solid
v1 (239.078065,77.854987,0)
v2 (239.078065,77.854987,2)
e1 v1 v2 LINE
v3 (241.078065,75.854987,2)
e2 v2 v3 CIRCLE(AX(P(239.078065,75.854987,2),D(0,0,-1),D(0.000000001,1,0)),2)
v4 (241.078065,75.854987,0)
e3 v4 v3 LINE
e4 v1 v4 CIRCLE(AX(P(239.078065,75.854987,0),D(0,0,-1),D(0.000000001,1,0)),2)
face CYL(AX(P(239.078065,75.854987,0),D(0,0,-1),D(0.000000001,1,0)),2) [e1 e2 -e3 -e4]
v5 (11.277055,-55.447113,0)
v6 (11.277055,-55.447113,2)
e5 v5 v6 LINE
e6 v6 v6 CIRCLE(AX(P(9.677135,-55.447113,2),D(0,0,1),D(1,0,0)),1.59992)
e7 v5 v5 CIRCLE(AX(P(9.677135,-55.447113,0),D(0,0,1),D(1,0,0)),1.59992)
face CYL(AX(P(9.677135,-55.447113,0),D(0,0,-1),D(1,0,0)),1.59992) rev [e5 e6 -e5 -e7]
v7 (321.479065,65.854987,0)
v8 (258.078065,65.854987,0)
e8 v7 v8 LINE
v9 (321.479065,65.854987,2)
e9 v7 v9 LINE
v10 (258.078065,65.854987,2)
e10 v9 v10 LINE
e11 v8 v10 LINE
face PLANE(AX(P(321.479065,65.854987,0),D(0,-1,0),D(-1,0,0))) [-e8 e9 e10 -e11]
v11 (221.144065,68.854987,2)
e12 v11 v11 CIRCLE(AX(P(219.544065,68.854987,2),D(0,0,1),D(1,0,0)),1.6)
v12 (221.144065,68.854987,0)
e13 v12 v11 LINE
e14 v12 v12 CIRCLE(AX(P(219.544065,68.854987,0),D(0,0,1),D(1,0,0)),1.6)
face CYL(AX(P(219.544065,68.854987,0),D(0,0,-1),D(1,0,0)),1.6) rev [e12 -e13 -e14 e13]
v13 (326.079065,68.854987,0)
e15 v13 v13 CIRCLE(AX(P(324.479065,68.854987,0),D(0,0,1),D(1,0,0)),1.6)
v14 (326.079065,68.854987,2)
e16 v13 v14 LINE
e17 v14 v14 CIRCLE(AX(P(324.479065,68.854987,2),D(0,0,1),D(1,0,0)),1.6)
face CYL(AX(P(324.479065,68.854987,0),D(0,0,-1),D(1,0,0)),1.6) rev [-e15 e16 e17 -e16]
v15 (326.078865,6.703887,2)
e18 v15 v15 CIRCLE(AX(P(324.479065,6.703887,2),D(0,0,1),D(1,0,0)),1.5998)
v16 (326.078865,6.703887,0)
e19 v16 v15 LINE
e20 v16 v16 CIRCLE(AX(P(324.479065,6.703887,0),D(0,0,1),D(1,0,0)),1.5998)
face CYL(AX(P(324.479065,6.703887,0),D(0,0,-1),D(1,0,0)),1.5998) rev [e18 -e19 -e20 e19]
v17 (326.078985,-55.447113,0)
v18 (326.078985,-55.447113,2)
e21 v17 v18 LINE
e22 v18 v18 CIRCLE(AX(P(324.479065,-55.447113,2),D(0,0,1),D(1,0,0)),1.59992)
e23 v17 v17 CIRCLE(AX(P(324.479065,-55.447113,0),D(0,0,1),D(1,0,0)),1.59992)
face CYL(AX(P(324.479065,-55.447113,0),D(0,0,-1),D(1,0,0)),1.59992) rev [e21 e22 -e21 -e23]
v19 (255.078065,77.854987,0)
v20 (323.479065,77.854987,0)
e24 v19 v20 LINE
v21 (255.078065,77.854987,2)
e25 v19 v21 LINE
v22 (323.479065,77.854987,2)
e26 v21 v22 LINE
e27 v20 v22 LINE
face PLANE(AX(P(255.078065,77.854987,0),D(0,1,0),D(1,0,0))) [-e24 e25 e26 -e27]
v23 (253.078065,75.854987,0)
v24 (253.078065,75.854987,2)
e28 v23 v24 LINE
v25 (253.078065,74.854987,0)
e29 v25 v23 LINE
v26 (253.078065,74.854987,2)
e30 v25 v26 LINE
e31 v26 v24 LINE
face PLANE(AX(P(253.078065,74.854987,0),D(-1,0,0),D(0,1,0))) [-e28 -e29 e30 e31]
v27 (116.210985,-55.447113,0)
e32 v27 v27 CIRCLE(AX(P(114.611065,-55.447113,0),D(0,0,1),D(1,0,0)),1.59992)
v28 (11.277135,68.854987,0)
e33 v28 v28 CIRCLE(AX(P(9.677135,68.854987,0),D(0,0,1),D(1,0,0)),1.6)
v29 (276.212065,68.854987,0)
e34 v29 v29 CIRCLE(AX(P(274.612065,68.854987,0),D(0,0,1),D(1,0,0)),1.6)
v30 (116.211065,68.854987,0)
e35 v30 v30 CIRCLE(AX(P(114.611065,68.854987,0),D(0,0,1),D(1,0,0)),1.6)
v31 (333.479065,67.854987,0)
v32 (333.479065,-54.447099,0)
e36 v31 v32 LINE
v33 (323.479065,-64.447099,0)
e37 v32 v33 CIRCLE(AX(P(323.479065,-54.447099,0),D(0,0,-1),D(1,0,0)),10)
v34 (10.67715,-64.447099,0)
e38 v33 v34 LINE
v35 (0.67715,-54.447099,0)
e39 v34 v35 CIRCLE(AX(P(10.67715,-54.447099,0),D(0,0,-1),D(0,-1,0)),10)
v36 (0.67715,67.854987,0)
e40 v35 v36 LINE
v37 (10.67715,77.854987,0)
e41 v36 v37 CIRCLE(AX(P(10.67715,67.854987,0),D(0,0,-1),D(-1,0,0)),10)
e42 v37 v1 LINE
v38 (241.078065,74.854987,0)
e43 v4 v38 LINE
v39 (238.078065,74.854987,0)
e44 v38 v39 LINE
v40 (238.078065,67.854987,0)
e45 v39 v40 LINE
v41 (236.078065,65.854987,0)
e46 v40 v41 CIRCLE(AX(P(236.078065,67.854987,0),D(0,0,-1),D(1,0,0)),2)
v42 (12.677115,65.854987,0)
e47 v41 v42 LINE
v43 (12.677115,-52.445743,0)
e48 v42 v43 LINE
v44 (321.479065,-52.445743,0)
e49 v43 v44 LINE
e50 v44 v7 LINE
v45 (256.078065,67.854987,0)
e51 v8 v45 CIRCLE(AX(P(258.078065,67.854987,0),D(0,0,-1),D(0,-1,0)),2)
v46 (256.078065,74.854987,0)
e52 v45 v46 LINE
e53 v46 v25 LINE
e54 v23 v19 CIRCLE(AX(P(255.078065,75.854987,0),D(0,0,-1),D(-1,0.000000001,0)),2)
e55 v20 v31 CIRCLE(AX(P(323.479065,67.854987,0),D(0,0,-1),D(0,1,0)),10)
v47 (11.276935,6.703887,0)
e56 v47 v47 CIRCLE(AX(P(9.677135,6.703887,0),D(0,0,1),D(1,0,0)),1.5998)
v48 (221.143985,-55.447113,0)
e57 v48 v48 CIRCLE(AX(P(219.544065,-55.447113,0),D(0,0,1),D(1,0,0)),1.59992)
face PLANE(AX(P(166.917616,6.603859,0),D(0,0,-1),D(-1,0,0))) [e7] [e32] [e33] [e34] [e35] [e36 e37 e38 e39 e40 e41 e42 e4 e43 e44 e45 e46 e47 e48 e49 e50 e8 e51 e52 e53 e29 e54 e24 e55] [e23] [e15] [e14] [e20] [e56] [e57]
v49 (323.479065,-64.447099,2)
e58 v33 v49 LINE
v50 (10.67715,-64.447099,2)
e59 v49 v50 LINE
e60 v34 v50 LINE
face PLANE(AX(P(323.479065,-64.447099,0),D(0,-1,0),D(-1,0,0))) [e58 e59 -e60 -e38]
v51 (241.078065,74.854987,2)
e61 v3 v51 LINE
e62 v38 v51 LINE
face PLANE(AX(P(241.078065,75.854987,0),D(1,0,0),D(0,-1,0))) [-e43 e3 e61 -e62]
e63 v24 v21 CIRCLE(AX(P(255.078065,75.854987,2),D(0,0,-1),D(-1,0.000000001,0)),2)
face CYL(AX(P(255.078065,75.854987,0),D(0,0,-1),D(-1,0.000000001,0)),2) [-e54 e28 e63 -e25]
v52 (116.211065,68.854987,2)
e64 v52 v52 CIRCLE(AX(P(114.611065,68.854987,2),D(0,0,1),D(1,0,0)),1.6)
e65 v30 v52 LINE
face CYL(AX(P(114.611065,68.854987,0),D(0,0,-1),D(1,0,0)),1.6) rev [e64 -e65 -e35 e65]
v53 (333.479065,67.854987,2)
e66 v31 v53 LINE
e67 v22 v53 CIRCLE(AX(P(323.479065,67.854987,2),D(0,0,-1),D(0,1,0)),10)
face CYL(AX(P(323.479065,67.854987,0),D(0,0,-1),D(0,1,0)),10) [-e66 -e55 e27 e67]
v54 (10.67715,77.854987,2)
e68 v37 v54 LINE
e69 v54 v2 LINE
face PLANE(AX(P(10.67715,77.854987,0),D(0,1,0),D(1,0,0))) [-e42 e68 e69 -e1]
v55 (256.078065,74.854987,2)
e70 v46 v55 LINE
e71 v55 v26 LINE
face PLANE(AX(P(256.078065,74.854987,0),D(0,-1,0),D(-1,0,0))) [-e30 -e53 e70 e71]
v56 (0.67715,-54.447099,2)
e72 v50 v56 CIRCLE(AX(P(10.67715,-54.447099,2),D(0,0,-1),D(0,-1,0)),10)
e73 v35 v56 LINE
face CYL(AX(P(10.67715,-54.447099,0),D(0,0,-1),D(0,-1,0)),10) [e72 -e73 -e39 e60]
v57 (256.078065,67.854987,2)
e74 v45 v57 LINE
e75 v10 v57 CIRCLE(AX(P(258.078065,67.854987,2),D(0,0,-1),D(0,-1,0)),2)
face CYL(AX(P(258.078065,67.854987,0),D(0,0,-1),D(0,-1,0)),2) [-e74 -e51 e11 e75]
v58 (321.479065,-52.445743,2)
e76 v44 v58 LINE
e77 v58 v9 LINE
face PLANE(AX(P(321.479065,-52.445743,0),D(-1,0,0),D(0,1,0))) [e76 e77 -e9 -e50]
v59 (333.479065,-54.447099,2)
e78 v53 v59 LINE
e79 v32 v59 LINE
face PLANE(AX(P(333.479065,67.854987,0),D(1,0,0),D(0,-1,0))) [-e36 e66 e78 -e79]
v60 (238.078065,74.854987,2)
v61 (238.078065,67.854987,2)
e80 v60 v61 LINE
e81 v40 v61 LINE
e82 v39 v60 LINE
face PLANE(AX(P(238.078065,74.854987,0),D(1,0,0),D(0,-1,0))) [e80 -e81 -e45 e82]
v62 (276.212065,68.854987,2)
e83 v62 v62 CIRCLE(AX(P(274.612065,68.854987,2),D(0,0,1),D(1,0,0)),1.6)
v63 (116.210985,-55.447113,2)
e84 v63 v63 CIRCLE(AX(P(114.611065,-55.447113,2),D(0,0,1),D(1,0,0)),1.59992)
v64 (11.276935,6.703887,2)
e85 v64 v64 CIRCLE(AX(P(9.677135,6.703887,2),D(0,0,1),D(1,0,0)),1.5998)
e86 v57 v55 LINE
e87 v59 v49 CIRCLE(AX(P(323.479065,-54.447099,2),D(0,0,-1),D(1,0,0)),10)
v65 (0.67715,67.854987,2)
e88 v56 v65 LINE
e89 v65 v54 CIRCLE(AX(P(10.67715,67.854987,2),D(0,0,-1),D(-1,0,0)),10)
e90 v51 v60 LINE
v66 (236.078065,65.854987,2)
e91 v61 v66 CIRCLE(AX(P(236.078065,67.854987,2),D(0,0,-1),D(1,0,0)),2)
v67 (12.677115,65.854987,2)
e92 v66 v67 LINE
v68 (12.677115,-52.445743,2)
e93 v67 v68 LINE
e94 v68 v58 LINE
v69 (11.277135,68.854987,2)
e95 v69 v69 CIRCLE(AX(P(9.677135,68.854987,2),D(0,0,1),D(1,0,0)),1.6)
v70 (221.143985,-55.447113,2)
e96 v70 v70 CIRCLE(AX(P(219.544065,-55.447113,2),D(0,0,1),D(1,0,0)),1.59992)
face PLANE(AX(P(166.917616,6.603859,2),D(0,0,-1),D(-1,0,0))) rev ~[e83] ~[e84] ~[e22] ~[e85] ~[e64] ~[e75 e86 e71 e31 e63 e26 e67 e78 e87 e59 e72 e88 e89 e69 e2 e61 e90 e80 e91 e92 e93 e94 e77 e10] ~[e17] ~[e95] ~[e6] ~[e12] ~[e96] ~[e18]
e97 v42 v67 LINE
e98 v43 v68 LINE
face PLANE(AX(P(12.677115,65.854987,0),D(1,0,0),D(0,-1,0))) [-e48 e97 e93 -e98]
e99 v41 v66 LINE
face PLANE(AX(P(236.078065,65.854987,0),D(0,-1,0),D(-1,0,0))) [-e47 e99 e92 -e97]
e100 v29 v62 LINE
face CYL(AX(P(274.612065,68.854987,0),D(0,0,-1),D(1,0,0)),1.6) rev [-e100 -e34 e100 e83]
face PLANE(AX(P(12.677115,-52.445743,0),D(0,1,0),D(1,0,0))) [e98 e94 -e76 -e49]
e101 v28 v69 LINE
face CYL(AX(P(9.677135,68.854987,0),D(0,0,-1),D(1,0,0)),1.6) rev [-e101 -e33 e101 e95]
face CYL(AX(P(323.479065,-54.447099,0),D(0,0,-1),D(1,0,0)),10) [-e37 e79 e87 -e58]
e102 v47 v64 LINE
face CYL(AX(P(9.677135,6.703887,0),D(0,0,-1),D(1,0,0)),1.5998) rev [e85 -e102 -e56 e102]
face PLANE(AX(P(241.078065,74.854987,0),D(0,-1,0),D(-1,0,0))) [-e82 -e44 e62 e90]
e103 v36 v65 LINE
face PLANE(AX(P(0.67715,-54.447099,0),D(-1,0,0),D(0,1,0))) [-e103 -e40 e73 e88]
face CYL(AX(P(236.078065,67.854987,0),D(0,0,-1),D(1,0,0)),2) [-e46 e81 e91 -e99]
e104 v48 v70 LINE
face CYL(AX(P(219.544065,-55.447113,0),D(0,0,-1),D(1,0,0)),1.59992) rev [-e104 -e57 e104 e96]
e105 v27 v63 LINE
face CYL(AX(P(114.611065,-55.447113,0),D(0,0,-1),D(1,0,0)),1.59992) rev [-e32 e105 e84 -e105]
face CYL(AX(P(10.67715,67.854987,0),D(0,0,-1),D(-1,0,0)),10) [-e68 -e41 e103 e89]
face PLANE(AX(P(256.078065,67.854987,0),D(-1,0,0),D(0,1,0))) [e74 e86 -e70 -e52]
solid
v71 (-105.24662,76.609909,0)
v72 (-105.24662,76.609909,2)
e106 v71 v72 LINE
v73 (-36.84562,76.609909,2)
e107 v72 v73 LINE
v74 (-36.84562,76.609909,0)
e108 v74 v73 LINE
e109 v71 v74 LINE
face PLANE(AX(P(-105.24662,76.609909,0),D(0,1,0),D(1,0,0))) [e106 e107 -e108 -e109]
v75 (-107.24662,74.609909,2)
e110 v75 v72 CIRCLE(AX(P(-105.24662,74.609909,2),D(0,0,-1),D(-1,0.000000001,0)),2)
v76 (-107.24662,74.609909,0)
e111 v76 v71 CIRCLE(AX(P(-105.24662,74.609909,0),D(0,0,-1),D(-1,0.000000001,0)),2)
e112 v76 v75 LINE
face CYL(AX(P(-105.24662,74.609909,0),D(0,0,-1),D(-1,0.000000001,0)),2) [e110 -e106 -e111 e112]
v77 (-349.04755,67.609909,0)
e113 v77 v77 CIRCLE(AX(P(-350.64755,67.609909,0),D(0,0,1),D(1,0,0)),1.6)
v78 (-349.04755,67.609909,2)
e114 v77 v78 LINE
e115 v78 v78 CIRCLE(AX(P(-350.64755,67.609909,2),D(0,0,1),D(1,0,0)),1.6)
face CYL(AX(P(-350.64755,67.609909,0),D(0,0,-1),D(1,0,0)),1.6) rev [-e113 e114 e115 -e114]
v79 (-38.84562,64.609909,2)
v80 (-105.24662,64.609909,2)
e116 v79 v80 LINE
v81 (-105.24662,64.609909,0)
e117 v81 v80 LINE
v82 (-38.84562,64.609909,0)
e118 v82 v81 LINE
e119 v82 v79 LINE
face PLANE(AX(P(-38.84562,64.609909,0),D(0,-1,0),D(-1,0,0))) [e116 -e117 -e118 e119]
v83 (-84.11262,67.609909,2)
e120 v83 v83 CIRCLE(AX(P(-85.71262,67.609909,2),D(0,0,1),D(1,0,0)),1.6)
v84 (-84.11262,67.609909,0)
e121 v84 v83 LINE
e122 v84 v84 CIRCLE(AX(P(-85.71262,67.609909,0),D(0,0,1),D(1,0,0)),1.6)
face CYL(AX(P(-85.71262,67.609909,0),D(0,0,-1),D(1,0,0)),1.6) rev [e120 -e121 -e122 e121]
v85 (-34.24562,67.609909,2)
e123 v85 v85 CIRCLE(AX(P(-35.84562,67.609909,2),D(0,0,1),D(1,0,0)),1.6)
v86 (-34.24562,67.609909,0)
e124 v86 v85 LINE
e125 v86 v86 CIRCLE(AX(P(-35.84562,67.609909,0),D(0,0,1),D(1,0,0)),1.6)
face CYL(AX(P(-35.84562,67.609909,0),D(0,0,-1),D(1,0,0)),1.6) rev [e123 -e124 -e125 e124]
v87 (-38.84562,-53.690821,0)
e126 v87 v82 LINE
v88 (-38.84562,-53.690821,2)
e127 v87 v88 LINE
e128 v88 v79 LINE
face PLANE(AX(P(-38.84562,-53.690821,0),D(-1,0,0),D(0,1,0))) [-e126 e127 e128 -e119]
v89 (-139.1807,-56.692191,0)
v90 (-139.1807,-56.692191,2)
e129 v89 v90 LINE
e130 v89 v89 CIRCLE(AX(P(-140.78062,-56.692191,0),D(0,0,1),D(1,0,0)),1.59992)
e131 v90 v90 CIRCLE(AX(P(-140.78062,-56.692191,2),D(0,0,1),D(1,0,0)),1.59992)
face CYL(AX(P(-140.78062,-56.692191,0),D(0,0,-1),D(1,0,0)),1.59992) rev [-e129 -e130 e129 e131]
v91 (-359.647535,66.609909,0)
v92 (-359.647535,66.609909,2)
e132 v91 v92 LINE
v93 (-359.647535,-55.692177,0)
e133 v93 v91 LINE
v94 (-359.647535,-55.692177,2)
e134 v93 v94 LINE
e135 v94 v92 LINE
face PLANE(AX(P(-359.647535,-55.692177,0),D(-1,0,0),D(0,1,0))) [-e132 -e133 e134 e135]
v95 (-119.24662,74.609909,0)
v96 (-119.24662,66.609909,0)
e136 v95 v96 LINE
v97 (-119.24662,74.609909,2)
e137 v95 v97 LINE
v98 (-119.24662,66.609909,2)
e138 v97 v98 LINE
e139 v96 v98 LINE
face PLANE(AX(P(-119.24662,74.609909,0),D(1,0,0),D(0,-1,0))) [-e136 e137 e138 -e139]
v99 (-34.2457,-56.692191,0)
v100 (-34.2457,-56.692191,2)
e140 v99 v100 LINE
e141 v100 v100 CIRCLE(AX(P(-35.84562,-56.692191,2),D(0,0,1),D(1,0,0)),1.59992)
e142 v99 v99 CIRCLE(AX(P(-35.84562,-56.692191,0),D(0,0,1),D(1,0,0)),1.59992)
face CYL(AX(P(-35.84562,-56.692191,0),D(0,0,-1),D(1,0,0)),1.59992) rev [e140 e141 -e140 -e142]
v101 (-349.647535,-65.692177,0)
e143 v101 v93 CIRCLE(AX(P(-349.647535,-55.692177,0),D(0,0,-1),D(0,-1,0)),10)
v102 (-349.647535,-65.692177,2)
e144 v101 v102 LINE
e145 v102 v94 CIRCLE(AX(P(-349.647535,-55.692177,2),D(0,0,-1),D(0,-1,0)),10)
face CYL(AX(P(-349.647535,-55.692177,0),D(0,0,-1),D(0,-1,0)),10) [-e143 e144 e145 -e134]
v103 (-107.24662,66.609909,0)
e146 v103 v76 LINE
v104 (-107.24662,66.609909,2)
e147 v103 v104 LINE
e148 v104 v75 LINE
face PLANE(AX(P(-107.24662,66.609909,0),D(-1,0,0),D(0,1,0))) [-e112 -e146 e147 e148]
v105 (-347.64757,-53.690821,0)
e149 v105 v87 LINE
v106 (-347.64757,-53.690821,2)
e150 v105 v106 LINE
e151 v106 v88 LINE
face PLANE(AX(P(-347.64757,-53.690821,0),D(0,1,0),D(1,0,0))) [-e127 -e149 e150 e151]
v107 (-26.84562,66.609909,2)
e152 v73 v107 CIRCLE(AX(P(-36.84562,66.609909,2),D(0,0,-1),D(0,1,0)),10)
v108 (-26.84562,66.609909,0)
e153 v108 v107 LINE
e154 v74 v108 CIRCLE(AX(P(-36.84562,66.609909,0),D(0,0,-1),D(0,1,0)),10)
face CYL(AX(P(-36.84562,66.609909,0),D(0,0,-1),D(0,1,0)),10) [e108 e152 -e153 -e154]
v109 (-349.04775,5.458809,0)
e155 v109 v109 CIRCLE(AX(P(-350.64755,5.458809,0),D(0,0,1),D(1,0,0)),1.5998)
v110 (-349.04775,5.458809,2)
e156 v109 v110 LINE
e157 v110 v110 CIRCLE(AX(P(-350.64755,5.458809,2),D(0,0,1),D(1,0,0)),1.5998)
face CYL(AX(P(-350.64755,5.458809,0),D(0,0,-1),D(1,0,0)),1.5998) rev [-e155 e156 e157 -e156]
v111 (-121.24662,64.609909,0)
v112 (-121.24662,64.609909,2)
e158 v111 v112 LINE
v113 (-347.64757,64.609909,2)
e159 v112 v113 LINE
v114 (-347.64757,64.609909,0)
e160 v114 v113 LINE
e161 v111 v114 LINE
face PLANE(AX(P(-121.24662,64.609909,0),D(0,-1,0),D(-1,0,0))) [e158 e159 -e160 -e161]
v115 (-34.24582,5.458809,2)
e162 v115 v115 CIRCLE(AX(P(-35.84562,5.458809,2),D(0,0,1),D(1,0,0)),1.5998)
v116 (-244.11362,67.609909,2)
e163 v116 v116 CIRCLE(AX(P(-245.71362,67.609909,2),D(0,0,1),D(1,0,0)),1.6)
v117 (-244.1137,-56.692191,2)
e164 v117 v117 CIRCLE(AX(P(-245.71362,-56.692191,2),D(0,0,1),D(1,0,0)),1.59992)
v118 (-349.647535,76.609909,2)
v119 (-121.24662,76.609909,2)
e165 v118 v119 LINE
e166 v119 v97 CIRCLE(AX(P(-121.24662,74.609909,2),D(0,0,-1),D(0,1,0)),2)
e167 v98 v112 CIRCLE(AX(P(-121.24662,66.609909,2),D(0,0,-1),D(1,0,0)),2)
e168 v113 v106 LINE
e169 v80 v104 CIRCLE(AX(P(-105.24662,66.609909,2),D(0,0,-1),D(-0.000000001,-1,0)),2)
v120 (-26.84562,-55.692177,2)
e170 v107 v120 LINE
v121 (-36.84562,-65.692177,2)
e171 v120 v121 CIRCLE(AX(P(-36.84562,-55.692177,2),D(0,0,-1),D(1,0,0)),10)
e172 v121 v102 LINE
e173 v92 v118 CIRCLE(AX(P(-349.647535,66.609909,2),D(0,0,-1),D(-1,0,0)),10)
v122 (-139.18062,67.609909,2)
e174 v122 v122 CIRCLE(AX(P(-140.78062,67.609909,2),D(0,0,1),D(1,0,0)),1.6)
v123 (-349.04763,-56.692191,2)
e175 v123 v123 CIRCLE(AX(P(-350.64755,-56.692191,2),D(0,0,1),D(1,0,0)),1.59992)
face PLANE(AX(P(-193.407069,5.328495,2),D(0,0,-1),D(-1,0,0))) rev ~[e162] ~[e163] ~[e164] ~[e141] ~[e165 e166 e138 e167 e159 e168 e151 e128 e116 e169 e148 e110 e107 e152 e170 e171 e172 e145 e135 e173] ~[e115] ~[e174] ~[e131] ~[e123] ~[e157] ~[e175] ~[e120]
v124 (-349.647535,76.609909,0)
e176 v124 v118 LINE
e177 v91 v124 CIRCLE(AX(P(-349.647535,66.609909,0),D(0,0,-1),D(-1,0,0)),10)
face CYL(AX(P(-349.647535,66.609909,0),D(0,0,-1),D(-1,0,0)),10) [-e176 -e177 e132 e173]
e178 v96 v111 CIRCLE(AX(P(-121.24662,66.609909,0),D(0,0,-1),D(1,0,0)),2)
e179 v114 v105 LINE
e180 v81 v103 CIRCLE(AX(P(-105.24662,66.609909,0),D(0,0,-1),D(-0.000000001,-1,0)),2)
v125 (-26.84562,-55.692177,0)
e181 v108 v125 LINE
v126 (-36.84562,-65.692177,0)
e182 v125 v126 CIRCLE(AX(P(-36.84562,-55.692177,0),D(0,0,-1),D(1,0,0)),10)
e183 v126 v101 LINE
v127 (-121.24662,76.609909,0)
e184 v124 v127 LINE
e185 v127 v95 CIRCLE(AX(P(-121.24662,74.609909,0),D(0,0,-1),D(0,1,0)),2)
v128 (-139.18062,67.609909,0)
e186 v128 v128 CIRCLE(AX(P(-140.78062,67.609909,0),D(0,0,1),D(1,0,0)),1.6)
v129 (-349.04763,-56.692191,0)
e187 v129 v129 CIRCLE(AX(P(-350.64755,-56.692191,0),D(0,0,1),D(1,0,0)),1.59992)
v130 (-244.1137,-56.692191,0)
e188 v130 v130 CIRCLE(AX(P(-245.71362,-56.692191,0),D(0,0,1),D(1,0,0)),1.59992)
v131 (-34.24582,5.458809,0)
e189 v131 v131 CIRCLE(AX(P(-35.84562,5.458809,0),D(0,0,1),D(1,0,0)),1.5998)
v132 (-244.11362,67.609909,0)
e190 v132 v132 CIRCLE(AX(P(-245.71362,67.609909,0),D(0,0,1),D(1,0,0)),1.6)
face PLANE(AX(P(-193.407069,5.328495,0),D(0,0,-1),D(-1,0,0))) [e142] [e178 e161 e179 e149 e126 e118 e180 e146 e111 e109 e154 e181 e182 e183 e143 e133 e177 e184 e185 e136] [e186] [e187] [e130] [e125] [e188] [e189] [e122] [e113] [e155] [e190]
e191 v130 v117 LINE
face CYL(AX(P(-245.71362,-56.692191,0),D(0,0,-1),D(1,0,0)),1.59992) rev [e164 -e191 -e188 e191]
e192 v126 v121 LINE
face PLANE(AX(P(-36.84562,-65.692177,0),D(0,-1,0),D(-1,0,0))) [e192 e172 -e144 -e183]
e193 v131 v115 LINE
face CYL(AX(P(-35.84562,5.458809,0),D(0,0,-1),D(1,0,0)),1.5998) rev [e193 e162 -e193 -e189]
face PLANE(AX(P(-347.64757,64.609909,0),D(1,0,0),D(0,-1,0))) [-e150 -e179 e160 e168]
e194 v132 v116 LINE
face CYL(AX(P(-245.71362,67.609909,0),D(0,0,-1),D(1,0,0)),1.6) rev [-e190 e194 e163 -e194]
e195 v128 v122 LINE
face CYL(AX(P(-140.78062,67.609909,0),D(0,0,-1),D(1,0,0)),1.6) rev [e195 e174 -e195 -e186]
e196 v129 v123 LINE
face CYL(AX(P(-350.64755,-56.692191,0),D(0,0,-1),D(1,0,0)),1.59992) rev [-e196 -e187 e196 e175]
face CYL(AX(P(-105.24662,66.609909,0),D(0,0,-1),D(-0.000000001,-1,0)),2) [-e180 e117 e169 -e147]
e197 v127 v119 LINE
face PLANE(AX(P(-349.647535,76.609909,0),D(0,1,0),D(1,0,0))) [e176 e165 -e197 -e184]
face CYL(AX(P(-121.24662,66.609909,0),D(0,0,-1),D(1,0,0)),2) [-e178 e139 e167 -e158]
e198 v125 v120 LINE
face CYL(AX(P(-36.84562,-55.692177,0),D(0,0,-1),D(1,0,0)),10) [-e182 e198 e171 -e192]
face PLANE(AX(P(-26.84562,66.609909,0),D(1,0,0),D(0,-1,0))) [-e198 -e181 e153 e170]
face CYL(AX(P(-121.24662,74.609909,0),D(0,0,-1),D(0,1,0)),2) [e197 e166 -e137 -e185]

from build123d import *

# Parameters (mm, degrees)
SKETCH_1_R        = 1.6
SKETCH_1_R_2      = 1.5998
SKETCH_1_R_3      = 1.59992
EXTRUDE_1_DEPTH   = 2
EXTRUDE_1_2_DEPTH = 2


with BuildPart() as part:
    # 草图1 → 凸台-拉伸1 (new body)
    with BuildSketch(Plane.XY):
        with BuildLine():
            Line((-119.24661957, 73.609909265), (-119.24661957, 67.609909265))
            Line((-119.24661957, 67.609909265), (-119.24661957, 66.609909265))
            ThreePointArc((-119.24661957, 66.609909265), (-119.832406007, 65.195695703), (-121.24661957, 64.609909265))
            Line((-121.24661957, 64.609909265), (-347.64756957, 64.609909265))
            Line((-347.64756957, 64.609909265), (-347.64756957, -53.690820735))
            Line((-347.64756957, -53.690820735), (-38.84561957, -53.690820735))
            Line((-38.84561957, -53.690820735), (-38.84561957, 64.609909265))
            Line((-38.84561957, 64.609909265), (-105.24661957, 64.609909265))
            ThreePointArc((-105.24661957, 64.609909265), (-106.660833132, 65.195695703), (-107.24661957, 66.609909265))
            Line((-107.24661957, 66.609909265), (-107.24661957, 67.609909265))
            Line((-107.24661957, 67.609909265), (-107.24661957, 73.609909265))
            Line((-107.24661957, 73.609909265), (-107.24661957, 74.609909265))
            ThreePointArc((-107.24661957, 74.609909265), (-106.660833132, 76.024122827), (-105.24661957, 76.609909265))
            Line((-105.24661957, 76.609909265), (-36.84561957, 76.609909265))
            ThreePointArc((-36.84561957, 76.609909265), (-29.774551758, 73.680977077), (-26.84561957, 66.609909265))
            Line((-26.84561957, 66.609909265), (-26.84561957, -55.692176735))
            ThreePointArc((-26.84561957, -55.692176735), (-29.774551758, -62.763244547), (-36.84561957, -65.692176735))
            Line((-36.84561957, -65.692176735), (-349.64753497, -65.692176735))
            ThreePointArc((-349.64753497, -65.692176735), (-356.718602782, -62.763244547), (-359.64753497, -55.692176735))
            Line((-359.64753497, -55.692176735), (-359.64753497, 66.609909265))
            ThreePointArc((-359.64753497, 66.609909265), (-356.718602782, 73.680977077), (-349.64753497, 76.609909265))
            Line((-349.64753497, 76.609909265), (-121.24661957, 76.609909265))
            ThreePointArc((-121.24661957, 76.609909265), (-119.832406007, 76.024122827), (-119.24661957, 74.609909265))
            Line((-119.24661957, 74.609909265), (-119.24661957, 73.609909265))
        make_face()
        with Locations((-140.78061957, 67.609909265)):
            Circle(SKETCH_1_R, mode=Mode.SUBTRACT)
        with Locations((-85.71261957, 67.609909265)):
            Circle(SKETCH_1_R, mode=Mode.SUBTRACT)
        with Locations((-245.71361957, 67.609909265)):
            Circle(SKETCH_1_R, mode=Mode.SUBTRACT)
        with Locations((-350.64754957, 67.609909265)):
            Circle(SKETCH_1_R, mode=Mode.SUBTRACT)
        with Locations((-350.64754957, 5.458809265)):
            Circle(SKETCH_1_R_2, mode=Mode.SUBTRACT)
        with Locations((-350.64754957, -56.692190735)):
            Circle(SKETCH_1_R_3, mode=Mode.SUBTRACT)
        with Locations((-245.71361957, -56.692190735)):
            Circle(SKETCH_1_R_3, mode=Mode.SUBTRACT)
        with Locations((-140.78061957, -56.692190735)):
            Circle(SKETCH_1_R_3, mode=Mode.SUBTRACT)
        with Locations((-35.84561957, -56.692190735)):
            Circle(SKETCH_1_R_3, mode=Mode.SUBTRACT)
        with Locations((-35.84561957, 5.458809265)):
            Circle(SKETCH_1_R_2, mode=Mode.SUBTRACT)
        with Locations((-35.84561957, 67.609909265)):
            Circle(SKETCH_1_R, mode=Mode.SUBTRACT)
    extrude(amount=EXTRUDE_1_DEPTH)


with BuildPart() as body_2:
    # 草图1 → Extrude 1 2 (new body)
    with BuildSketch(Plane.XY):
        with BuildLine():
            Line((12.67711533, 65.854986568), (12.67711533, -52.445743432))
            Line((12.67711533, -52.445743432), (321.47906533, -52.445743432))
            Line((321.47906533, -52.445743432), (321.47906533, 65.854986568))
            Line((321.47906533, 65.854986568), (258.07806533, 65.854986568))
            ThreePointArc((258.07806533, 65.854986568), (256.663851768, 66.440773005), (256.07806533, 67.854986568))
            Line((256.07806533, 67.854986568), (256.07806533, 74.854986568))
            Line((256.07806533, 74.854986568), (253.07806533, 74.854986568))
            Line((253.07806533, 74.854986568), (253.07806533, 75.854986568))
            ThreePointArc((253.07806533, 75.854986568), (253.663851768, 77.26920013), (255.07806533, 77.854986568))
            Line((255.07806533, 77.854986568), (258.07806533, 77.854986568))
            Line((258.07806533, 77.854986568), (323.47906533, 77.854986568))
            ThreePointArc((323.47906533, 77.854986568), (330.550133142, 74.926054379), (333.47906533, 67.854986568))
            Line((333.47906533, 67.854986568), (333.47906533, -54.447099432))
            ThreePointArc((333.47906533, -54.447099432), (330.550133142, -61.518167244), (323.47906533, -64.447099432))
            Line((323.47906533, -64.447099432), (10.67714993, -64.447099432))
            ThreePointArc((10.67714993, -64.447099432), (3.606082118, -61.518167244), (0.67714993, -54.447099432))
            Line((0.67714993, -54.447099432), (0.67714993, 67.854986568))
            ThreePointArc((0.67714993, 67.854986568), (3.606082118, 74.926054379), (10.67714993, 77.854986568))
            Line((10.67714993, 77.854986568), (236.07806533, 77.854986568))
            Line((236.07806533, 77.854986568), (239.07806533, 77.854986568))
            ThreePointArc((239.07806533, 77.854986568), (240.492278892, 77.26920013), (241.07806533, 75.854986568))
            Line((241.07806533, 75.854986568), (241.07806533, 74.854986568))
            Line((241.07806533, 74.854986568), (238.07806533, 74.854986568))
            Line((238.07806533, 74.854986568), (238.07806533, 67.854986568))
            ThreePointArc((238.07806533, 67.854986568), (237.492278892, 66.440773005), (236.07806533, 65.854986568))
            Line((236.07806533, 65.854986568), (12.67711533, 65.854986568))
        make_face()
        with Locations((219.54406533, 68.854986568)):
            Circle(SKETCH_1_R, mode=Mode.SUBTRACT)
        with Locations((274.61206533, 68.854986568)):
            Circle(SKETCH_1_R, mode=Mode.SUBTRACT)
        with Locations((114.61106533, 68.854986568)):
            Circle(SKETCH_1_R, mode=Mode.SUBTRACT)
        with Locations((9.67713533, 68.854986568)):
            Circle(SKETCH_1_R, mode=Mode.SUBTRACT)
        with Locations((9.67713533, 6.703886568)):
            Circle(SKETCH_1_R_2, mode=Mode.SUBTRACT)
        with Locations((9.67713533, -55.447113432)):
            Circle(SKETCH_1_R_3, mode=Mode.SUBTRACT)
        with Locations((114.61106533, -55.447113432)):
            Circle(SKETCH_1_R_3, mode=Mode.SUBTRACT)
        with Locations((219.54406533, -55.447113432)):
            Circle(SKETCH_1_R_3, mode=Mode.SUBTRACT)
        with Locations((324.47906533, -55.447113432)):
            Circle(SKETCH_1_R_3, mode=Mode.SUBTRACT)
        with Locations((324.47906533, 6.703886568)):
            Circle(SKETCH_1_R_2, mode=Mode.SUBTRACT)
        with Locations((324.47906533, 68.854986568)):
            Circle(SKETCH_1_R, mode=Mode.SUBTRACT)
    extrude(amount=EXTRUDE_1_2_DEPTH)


solid = Compound([part.part, body_2.part])
